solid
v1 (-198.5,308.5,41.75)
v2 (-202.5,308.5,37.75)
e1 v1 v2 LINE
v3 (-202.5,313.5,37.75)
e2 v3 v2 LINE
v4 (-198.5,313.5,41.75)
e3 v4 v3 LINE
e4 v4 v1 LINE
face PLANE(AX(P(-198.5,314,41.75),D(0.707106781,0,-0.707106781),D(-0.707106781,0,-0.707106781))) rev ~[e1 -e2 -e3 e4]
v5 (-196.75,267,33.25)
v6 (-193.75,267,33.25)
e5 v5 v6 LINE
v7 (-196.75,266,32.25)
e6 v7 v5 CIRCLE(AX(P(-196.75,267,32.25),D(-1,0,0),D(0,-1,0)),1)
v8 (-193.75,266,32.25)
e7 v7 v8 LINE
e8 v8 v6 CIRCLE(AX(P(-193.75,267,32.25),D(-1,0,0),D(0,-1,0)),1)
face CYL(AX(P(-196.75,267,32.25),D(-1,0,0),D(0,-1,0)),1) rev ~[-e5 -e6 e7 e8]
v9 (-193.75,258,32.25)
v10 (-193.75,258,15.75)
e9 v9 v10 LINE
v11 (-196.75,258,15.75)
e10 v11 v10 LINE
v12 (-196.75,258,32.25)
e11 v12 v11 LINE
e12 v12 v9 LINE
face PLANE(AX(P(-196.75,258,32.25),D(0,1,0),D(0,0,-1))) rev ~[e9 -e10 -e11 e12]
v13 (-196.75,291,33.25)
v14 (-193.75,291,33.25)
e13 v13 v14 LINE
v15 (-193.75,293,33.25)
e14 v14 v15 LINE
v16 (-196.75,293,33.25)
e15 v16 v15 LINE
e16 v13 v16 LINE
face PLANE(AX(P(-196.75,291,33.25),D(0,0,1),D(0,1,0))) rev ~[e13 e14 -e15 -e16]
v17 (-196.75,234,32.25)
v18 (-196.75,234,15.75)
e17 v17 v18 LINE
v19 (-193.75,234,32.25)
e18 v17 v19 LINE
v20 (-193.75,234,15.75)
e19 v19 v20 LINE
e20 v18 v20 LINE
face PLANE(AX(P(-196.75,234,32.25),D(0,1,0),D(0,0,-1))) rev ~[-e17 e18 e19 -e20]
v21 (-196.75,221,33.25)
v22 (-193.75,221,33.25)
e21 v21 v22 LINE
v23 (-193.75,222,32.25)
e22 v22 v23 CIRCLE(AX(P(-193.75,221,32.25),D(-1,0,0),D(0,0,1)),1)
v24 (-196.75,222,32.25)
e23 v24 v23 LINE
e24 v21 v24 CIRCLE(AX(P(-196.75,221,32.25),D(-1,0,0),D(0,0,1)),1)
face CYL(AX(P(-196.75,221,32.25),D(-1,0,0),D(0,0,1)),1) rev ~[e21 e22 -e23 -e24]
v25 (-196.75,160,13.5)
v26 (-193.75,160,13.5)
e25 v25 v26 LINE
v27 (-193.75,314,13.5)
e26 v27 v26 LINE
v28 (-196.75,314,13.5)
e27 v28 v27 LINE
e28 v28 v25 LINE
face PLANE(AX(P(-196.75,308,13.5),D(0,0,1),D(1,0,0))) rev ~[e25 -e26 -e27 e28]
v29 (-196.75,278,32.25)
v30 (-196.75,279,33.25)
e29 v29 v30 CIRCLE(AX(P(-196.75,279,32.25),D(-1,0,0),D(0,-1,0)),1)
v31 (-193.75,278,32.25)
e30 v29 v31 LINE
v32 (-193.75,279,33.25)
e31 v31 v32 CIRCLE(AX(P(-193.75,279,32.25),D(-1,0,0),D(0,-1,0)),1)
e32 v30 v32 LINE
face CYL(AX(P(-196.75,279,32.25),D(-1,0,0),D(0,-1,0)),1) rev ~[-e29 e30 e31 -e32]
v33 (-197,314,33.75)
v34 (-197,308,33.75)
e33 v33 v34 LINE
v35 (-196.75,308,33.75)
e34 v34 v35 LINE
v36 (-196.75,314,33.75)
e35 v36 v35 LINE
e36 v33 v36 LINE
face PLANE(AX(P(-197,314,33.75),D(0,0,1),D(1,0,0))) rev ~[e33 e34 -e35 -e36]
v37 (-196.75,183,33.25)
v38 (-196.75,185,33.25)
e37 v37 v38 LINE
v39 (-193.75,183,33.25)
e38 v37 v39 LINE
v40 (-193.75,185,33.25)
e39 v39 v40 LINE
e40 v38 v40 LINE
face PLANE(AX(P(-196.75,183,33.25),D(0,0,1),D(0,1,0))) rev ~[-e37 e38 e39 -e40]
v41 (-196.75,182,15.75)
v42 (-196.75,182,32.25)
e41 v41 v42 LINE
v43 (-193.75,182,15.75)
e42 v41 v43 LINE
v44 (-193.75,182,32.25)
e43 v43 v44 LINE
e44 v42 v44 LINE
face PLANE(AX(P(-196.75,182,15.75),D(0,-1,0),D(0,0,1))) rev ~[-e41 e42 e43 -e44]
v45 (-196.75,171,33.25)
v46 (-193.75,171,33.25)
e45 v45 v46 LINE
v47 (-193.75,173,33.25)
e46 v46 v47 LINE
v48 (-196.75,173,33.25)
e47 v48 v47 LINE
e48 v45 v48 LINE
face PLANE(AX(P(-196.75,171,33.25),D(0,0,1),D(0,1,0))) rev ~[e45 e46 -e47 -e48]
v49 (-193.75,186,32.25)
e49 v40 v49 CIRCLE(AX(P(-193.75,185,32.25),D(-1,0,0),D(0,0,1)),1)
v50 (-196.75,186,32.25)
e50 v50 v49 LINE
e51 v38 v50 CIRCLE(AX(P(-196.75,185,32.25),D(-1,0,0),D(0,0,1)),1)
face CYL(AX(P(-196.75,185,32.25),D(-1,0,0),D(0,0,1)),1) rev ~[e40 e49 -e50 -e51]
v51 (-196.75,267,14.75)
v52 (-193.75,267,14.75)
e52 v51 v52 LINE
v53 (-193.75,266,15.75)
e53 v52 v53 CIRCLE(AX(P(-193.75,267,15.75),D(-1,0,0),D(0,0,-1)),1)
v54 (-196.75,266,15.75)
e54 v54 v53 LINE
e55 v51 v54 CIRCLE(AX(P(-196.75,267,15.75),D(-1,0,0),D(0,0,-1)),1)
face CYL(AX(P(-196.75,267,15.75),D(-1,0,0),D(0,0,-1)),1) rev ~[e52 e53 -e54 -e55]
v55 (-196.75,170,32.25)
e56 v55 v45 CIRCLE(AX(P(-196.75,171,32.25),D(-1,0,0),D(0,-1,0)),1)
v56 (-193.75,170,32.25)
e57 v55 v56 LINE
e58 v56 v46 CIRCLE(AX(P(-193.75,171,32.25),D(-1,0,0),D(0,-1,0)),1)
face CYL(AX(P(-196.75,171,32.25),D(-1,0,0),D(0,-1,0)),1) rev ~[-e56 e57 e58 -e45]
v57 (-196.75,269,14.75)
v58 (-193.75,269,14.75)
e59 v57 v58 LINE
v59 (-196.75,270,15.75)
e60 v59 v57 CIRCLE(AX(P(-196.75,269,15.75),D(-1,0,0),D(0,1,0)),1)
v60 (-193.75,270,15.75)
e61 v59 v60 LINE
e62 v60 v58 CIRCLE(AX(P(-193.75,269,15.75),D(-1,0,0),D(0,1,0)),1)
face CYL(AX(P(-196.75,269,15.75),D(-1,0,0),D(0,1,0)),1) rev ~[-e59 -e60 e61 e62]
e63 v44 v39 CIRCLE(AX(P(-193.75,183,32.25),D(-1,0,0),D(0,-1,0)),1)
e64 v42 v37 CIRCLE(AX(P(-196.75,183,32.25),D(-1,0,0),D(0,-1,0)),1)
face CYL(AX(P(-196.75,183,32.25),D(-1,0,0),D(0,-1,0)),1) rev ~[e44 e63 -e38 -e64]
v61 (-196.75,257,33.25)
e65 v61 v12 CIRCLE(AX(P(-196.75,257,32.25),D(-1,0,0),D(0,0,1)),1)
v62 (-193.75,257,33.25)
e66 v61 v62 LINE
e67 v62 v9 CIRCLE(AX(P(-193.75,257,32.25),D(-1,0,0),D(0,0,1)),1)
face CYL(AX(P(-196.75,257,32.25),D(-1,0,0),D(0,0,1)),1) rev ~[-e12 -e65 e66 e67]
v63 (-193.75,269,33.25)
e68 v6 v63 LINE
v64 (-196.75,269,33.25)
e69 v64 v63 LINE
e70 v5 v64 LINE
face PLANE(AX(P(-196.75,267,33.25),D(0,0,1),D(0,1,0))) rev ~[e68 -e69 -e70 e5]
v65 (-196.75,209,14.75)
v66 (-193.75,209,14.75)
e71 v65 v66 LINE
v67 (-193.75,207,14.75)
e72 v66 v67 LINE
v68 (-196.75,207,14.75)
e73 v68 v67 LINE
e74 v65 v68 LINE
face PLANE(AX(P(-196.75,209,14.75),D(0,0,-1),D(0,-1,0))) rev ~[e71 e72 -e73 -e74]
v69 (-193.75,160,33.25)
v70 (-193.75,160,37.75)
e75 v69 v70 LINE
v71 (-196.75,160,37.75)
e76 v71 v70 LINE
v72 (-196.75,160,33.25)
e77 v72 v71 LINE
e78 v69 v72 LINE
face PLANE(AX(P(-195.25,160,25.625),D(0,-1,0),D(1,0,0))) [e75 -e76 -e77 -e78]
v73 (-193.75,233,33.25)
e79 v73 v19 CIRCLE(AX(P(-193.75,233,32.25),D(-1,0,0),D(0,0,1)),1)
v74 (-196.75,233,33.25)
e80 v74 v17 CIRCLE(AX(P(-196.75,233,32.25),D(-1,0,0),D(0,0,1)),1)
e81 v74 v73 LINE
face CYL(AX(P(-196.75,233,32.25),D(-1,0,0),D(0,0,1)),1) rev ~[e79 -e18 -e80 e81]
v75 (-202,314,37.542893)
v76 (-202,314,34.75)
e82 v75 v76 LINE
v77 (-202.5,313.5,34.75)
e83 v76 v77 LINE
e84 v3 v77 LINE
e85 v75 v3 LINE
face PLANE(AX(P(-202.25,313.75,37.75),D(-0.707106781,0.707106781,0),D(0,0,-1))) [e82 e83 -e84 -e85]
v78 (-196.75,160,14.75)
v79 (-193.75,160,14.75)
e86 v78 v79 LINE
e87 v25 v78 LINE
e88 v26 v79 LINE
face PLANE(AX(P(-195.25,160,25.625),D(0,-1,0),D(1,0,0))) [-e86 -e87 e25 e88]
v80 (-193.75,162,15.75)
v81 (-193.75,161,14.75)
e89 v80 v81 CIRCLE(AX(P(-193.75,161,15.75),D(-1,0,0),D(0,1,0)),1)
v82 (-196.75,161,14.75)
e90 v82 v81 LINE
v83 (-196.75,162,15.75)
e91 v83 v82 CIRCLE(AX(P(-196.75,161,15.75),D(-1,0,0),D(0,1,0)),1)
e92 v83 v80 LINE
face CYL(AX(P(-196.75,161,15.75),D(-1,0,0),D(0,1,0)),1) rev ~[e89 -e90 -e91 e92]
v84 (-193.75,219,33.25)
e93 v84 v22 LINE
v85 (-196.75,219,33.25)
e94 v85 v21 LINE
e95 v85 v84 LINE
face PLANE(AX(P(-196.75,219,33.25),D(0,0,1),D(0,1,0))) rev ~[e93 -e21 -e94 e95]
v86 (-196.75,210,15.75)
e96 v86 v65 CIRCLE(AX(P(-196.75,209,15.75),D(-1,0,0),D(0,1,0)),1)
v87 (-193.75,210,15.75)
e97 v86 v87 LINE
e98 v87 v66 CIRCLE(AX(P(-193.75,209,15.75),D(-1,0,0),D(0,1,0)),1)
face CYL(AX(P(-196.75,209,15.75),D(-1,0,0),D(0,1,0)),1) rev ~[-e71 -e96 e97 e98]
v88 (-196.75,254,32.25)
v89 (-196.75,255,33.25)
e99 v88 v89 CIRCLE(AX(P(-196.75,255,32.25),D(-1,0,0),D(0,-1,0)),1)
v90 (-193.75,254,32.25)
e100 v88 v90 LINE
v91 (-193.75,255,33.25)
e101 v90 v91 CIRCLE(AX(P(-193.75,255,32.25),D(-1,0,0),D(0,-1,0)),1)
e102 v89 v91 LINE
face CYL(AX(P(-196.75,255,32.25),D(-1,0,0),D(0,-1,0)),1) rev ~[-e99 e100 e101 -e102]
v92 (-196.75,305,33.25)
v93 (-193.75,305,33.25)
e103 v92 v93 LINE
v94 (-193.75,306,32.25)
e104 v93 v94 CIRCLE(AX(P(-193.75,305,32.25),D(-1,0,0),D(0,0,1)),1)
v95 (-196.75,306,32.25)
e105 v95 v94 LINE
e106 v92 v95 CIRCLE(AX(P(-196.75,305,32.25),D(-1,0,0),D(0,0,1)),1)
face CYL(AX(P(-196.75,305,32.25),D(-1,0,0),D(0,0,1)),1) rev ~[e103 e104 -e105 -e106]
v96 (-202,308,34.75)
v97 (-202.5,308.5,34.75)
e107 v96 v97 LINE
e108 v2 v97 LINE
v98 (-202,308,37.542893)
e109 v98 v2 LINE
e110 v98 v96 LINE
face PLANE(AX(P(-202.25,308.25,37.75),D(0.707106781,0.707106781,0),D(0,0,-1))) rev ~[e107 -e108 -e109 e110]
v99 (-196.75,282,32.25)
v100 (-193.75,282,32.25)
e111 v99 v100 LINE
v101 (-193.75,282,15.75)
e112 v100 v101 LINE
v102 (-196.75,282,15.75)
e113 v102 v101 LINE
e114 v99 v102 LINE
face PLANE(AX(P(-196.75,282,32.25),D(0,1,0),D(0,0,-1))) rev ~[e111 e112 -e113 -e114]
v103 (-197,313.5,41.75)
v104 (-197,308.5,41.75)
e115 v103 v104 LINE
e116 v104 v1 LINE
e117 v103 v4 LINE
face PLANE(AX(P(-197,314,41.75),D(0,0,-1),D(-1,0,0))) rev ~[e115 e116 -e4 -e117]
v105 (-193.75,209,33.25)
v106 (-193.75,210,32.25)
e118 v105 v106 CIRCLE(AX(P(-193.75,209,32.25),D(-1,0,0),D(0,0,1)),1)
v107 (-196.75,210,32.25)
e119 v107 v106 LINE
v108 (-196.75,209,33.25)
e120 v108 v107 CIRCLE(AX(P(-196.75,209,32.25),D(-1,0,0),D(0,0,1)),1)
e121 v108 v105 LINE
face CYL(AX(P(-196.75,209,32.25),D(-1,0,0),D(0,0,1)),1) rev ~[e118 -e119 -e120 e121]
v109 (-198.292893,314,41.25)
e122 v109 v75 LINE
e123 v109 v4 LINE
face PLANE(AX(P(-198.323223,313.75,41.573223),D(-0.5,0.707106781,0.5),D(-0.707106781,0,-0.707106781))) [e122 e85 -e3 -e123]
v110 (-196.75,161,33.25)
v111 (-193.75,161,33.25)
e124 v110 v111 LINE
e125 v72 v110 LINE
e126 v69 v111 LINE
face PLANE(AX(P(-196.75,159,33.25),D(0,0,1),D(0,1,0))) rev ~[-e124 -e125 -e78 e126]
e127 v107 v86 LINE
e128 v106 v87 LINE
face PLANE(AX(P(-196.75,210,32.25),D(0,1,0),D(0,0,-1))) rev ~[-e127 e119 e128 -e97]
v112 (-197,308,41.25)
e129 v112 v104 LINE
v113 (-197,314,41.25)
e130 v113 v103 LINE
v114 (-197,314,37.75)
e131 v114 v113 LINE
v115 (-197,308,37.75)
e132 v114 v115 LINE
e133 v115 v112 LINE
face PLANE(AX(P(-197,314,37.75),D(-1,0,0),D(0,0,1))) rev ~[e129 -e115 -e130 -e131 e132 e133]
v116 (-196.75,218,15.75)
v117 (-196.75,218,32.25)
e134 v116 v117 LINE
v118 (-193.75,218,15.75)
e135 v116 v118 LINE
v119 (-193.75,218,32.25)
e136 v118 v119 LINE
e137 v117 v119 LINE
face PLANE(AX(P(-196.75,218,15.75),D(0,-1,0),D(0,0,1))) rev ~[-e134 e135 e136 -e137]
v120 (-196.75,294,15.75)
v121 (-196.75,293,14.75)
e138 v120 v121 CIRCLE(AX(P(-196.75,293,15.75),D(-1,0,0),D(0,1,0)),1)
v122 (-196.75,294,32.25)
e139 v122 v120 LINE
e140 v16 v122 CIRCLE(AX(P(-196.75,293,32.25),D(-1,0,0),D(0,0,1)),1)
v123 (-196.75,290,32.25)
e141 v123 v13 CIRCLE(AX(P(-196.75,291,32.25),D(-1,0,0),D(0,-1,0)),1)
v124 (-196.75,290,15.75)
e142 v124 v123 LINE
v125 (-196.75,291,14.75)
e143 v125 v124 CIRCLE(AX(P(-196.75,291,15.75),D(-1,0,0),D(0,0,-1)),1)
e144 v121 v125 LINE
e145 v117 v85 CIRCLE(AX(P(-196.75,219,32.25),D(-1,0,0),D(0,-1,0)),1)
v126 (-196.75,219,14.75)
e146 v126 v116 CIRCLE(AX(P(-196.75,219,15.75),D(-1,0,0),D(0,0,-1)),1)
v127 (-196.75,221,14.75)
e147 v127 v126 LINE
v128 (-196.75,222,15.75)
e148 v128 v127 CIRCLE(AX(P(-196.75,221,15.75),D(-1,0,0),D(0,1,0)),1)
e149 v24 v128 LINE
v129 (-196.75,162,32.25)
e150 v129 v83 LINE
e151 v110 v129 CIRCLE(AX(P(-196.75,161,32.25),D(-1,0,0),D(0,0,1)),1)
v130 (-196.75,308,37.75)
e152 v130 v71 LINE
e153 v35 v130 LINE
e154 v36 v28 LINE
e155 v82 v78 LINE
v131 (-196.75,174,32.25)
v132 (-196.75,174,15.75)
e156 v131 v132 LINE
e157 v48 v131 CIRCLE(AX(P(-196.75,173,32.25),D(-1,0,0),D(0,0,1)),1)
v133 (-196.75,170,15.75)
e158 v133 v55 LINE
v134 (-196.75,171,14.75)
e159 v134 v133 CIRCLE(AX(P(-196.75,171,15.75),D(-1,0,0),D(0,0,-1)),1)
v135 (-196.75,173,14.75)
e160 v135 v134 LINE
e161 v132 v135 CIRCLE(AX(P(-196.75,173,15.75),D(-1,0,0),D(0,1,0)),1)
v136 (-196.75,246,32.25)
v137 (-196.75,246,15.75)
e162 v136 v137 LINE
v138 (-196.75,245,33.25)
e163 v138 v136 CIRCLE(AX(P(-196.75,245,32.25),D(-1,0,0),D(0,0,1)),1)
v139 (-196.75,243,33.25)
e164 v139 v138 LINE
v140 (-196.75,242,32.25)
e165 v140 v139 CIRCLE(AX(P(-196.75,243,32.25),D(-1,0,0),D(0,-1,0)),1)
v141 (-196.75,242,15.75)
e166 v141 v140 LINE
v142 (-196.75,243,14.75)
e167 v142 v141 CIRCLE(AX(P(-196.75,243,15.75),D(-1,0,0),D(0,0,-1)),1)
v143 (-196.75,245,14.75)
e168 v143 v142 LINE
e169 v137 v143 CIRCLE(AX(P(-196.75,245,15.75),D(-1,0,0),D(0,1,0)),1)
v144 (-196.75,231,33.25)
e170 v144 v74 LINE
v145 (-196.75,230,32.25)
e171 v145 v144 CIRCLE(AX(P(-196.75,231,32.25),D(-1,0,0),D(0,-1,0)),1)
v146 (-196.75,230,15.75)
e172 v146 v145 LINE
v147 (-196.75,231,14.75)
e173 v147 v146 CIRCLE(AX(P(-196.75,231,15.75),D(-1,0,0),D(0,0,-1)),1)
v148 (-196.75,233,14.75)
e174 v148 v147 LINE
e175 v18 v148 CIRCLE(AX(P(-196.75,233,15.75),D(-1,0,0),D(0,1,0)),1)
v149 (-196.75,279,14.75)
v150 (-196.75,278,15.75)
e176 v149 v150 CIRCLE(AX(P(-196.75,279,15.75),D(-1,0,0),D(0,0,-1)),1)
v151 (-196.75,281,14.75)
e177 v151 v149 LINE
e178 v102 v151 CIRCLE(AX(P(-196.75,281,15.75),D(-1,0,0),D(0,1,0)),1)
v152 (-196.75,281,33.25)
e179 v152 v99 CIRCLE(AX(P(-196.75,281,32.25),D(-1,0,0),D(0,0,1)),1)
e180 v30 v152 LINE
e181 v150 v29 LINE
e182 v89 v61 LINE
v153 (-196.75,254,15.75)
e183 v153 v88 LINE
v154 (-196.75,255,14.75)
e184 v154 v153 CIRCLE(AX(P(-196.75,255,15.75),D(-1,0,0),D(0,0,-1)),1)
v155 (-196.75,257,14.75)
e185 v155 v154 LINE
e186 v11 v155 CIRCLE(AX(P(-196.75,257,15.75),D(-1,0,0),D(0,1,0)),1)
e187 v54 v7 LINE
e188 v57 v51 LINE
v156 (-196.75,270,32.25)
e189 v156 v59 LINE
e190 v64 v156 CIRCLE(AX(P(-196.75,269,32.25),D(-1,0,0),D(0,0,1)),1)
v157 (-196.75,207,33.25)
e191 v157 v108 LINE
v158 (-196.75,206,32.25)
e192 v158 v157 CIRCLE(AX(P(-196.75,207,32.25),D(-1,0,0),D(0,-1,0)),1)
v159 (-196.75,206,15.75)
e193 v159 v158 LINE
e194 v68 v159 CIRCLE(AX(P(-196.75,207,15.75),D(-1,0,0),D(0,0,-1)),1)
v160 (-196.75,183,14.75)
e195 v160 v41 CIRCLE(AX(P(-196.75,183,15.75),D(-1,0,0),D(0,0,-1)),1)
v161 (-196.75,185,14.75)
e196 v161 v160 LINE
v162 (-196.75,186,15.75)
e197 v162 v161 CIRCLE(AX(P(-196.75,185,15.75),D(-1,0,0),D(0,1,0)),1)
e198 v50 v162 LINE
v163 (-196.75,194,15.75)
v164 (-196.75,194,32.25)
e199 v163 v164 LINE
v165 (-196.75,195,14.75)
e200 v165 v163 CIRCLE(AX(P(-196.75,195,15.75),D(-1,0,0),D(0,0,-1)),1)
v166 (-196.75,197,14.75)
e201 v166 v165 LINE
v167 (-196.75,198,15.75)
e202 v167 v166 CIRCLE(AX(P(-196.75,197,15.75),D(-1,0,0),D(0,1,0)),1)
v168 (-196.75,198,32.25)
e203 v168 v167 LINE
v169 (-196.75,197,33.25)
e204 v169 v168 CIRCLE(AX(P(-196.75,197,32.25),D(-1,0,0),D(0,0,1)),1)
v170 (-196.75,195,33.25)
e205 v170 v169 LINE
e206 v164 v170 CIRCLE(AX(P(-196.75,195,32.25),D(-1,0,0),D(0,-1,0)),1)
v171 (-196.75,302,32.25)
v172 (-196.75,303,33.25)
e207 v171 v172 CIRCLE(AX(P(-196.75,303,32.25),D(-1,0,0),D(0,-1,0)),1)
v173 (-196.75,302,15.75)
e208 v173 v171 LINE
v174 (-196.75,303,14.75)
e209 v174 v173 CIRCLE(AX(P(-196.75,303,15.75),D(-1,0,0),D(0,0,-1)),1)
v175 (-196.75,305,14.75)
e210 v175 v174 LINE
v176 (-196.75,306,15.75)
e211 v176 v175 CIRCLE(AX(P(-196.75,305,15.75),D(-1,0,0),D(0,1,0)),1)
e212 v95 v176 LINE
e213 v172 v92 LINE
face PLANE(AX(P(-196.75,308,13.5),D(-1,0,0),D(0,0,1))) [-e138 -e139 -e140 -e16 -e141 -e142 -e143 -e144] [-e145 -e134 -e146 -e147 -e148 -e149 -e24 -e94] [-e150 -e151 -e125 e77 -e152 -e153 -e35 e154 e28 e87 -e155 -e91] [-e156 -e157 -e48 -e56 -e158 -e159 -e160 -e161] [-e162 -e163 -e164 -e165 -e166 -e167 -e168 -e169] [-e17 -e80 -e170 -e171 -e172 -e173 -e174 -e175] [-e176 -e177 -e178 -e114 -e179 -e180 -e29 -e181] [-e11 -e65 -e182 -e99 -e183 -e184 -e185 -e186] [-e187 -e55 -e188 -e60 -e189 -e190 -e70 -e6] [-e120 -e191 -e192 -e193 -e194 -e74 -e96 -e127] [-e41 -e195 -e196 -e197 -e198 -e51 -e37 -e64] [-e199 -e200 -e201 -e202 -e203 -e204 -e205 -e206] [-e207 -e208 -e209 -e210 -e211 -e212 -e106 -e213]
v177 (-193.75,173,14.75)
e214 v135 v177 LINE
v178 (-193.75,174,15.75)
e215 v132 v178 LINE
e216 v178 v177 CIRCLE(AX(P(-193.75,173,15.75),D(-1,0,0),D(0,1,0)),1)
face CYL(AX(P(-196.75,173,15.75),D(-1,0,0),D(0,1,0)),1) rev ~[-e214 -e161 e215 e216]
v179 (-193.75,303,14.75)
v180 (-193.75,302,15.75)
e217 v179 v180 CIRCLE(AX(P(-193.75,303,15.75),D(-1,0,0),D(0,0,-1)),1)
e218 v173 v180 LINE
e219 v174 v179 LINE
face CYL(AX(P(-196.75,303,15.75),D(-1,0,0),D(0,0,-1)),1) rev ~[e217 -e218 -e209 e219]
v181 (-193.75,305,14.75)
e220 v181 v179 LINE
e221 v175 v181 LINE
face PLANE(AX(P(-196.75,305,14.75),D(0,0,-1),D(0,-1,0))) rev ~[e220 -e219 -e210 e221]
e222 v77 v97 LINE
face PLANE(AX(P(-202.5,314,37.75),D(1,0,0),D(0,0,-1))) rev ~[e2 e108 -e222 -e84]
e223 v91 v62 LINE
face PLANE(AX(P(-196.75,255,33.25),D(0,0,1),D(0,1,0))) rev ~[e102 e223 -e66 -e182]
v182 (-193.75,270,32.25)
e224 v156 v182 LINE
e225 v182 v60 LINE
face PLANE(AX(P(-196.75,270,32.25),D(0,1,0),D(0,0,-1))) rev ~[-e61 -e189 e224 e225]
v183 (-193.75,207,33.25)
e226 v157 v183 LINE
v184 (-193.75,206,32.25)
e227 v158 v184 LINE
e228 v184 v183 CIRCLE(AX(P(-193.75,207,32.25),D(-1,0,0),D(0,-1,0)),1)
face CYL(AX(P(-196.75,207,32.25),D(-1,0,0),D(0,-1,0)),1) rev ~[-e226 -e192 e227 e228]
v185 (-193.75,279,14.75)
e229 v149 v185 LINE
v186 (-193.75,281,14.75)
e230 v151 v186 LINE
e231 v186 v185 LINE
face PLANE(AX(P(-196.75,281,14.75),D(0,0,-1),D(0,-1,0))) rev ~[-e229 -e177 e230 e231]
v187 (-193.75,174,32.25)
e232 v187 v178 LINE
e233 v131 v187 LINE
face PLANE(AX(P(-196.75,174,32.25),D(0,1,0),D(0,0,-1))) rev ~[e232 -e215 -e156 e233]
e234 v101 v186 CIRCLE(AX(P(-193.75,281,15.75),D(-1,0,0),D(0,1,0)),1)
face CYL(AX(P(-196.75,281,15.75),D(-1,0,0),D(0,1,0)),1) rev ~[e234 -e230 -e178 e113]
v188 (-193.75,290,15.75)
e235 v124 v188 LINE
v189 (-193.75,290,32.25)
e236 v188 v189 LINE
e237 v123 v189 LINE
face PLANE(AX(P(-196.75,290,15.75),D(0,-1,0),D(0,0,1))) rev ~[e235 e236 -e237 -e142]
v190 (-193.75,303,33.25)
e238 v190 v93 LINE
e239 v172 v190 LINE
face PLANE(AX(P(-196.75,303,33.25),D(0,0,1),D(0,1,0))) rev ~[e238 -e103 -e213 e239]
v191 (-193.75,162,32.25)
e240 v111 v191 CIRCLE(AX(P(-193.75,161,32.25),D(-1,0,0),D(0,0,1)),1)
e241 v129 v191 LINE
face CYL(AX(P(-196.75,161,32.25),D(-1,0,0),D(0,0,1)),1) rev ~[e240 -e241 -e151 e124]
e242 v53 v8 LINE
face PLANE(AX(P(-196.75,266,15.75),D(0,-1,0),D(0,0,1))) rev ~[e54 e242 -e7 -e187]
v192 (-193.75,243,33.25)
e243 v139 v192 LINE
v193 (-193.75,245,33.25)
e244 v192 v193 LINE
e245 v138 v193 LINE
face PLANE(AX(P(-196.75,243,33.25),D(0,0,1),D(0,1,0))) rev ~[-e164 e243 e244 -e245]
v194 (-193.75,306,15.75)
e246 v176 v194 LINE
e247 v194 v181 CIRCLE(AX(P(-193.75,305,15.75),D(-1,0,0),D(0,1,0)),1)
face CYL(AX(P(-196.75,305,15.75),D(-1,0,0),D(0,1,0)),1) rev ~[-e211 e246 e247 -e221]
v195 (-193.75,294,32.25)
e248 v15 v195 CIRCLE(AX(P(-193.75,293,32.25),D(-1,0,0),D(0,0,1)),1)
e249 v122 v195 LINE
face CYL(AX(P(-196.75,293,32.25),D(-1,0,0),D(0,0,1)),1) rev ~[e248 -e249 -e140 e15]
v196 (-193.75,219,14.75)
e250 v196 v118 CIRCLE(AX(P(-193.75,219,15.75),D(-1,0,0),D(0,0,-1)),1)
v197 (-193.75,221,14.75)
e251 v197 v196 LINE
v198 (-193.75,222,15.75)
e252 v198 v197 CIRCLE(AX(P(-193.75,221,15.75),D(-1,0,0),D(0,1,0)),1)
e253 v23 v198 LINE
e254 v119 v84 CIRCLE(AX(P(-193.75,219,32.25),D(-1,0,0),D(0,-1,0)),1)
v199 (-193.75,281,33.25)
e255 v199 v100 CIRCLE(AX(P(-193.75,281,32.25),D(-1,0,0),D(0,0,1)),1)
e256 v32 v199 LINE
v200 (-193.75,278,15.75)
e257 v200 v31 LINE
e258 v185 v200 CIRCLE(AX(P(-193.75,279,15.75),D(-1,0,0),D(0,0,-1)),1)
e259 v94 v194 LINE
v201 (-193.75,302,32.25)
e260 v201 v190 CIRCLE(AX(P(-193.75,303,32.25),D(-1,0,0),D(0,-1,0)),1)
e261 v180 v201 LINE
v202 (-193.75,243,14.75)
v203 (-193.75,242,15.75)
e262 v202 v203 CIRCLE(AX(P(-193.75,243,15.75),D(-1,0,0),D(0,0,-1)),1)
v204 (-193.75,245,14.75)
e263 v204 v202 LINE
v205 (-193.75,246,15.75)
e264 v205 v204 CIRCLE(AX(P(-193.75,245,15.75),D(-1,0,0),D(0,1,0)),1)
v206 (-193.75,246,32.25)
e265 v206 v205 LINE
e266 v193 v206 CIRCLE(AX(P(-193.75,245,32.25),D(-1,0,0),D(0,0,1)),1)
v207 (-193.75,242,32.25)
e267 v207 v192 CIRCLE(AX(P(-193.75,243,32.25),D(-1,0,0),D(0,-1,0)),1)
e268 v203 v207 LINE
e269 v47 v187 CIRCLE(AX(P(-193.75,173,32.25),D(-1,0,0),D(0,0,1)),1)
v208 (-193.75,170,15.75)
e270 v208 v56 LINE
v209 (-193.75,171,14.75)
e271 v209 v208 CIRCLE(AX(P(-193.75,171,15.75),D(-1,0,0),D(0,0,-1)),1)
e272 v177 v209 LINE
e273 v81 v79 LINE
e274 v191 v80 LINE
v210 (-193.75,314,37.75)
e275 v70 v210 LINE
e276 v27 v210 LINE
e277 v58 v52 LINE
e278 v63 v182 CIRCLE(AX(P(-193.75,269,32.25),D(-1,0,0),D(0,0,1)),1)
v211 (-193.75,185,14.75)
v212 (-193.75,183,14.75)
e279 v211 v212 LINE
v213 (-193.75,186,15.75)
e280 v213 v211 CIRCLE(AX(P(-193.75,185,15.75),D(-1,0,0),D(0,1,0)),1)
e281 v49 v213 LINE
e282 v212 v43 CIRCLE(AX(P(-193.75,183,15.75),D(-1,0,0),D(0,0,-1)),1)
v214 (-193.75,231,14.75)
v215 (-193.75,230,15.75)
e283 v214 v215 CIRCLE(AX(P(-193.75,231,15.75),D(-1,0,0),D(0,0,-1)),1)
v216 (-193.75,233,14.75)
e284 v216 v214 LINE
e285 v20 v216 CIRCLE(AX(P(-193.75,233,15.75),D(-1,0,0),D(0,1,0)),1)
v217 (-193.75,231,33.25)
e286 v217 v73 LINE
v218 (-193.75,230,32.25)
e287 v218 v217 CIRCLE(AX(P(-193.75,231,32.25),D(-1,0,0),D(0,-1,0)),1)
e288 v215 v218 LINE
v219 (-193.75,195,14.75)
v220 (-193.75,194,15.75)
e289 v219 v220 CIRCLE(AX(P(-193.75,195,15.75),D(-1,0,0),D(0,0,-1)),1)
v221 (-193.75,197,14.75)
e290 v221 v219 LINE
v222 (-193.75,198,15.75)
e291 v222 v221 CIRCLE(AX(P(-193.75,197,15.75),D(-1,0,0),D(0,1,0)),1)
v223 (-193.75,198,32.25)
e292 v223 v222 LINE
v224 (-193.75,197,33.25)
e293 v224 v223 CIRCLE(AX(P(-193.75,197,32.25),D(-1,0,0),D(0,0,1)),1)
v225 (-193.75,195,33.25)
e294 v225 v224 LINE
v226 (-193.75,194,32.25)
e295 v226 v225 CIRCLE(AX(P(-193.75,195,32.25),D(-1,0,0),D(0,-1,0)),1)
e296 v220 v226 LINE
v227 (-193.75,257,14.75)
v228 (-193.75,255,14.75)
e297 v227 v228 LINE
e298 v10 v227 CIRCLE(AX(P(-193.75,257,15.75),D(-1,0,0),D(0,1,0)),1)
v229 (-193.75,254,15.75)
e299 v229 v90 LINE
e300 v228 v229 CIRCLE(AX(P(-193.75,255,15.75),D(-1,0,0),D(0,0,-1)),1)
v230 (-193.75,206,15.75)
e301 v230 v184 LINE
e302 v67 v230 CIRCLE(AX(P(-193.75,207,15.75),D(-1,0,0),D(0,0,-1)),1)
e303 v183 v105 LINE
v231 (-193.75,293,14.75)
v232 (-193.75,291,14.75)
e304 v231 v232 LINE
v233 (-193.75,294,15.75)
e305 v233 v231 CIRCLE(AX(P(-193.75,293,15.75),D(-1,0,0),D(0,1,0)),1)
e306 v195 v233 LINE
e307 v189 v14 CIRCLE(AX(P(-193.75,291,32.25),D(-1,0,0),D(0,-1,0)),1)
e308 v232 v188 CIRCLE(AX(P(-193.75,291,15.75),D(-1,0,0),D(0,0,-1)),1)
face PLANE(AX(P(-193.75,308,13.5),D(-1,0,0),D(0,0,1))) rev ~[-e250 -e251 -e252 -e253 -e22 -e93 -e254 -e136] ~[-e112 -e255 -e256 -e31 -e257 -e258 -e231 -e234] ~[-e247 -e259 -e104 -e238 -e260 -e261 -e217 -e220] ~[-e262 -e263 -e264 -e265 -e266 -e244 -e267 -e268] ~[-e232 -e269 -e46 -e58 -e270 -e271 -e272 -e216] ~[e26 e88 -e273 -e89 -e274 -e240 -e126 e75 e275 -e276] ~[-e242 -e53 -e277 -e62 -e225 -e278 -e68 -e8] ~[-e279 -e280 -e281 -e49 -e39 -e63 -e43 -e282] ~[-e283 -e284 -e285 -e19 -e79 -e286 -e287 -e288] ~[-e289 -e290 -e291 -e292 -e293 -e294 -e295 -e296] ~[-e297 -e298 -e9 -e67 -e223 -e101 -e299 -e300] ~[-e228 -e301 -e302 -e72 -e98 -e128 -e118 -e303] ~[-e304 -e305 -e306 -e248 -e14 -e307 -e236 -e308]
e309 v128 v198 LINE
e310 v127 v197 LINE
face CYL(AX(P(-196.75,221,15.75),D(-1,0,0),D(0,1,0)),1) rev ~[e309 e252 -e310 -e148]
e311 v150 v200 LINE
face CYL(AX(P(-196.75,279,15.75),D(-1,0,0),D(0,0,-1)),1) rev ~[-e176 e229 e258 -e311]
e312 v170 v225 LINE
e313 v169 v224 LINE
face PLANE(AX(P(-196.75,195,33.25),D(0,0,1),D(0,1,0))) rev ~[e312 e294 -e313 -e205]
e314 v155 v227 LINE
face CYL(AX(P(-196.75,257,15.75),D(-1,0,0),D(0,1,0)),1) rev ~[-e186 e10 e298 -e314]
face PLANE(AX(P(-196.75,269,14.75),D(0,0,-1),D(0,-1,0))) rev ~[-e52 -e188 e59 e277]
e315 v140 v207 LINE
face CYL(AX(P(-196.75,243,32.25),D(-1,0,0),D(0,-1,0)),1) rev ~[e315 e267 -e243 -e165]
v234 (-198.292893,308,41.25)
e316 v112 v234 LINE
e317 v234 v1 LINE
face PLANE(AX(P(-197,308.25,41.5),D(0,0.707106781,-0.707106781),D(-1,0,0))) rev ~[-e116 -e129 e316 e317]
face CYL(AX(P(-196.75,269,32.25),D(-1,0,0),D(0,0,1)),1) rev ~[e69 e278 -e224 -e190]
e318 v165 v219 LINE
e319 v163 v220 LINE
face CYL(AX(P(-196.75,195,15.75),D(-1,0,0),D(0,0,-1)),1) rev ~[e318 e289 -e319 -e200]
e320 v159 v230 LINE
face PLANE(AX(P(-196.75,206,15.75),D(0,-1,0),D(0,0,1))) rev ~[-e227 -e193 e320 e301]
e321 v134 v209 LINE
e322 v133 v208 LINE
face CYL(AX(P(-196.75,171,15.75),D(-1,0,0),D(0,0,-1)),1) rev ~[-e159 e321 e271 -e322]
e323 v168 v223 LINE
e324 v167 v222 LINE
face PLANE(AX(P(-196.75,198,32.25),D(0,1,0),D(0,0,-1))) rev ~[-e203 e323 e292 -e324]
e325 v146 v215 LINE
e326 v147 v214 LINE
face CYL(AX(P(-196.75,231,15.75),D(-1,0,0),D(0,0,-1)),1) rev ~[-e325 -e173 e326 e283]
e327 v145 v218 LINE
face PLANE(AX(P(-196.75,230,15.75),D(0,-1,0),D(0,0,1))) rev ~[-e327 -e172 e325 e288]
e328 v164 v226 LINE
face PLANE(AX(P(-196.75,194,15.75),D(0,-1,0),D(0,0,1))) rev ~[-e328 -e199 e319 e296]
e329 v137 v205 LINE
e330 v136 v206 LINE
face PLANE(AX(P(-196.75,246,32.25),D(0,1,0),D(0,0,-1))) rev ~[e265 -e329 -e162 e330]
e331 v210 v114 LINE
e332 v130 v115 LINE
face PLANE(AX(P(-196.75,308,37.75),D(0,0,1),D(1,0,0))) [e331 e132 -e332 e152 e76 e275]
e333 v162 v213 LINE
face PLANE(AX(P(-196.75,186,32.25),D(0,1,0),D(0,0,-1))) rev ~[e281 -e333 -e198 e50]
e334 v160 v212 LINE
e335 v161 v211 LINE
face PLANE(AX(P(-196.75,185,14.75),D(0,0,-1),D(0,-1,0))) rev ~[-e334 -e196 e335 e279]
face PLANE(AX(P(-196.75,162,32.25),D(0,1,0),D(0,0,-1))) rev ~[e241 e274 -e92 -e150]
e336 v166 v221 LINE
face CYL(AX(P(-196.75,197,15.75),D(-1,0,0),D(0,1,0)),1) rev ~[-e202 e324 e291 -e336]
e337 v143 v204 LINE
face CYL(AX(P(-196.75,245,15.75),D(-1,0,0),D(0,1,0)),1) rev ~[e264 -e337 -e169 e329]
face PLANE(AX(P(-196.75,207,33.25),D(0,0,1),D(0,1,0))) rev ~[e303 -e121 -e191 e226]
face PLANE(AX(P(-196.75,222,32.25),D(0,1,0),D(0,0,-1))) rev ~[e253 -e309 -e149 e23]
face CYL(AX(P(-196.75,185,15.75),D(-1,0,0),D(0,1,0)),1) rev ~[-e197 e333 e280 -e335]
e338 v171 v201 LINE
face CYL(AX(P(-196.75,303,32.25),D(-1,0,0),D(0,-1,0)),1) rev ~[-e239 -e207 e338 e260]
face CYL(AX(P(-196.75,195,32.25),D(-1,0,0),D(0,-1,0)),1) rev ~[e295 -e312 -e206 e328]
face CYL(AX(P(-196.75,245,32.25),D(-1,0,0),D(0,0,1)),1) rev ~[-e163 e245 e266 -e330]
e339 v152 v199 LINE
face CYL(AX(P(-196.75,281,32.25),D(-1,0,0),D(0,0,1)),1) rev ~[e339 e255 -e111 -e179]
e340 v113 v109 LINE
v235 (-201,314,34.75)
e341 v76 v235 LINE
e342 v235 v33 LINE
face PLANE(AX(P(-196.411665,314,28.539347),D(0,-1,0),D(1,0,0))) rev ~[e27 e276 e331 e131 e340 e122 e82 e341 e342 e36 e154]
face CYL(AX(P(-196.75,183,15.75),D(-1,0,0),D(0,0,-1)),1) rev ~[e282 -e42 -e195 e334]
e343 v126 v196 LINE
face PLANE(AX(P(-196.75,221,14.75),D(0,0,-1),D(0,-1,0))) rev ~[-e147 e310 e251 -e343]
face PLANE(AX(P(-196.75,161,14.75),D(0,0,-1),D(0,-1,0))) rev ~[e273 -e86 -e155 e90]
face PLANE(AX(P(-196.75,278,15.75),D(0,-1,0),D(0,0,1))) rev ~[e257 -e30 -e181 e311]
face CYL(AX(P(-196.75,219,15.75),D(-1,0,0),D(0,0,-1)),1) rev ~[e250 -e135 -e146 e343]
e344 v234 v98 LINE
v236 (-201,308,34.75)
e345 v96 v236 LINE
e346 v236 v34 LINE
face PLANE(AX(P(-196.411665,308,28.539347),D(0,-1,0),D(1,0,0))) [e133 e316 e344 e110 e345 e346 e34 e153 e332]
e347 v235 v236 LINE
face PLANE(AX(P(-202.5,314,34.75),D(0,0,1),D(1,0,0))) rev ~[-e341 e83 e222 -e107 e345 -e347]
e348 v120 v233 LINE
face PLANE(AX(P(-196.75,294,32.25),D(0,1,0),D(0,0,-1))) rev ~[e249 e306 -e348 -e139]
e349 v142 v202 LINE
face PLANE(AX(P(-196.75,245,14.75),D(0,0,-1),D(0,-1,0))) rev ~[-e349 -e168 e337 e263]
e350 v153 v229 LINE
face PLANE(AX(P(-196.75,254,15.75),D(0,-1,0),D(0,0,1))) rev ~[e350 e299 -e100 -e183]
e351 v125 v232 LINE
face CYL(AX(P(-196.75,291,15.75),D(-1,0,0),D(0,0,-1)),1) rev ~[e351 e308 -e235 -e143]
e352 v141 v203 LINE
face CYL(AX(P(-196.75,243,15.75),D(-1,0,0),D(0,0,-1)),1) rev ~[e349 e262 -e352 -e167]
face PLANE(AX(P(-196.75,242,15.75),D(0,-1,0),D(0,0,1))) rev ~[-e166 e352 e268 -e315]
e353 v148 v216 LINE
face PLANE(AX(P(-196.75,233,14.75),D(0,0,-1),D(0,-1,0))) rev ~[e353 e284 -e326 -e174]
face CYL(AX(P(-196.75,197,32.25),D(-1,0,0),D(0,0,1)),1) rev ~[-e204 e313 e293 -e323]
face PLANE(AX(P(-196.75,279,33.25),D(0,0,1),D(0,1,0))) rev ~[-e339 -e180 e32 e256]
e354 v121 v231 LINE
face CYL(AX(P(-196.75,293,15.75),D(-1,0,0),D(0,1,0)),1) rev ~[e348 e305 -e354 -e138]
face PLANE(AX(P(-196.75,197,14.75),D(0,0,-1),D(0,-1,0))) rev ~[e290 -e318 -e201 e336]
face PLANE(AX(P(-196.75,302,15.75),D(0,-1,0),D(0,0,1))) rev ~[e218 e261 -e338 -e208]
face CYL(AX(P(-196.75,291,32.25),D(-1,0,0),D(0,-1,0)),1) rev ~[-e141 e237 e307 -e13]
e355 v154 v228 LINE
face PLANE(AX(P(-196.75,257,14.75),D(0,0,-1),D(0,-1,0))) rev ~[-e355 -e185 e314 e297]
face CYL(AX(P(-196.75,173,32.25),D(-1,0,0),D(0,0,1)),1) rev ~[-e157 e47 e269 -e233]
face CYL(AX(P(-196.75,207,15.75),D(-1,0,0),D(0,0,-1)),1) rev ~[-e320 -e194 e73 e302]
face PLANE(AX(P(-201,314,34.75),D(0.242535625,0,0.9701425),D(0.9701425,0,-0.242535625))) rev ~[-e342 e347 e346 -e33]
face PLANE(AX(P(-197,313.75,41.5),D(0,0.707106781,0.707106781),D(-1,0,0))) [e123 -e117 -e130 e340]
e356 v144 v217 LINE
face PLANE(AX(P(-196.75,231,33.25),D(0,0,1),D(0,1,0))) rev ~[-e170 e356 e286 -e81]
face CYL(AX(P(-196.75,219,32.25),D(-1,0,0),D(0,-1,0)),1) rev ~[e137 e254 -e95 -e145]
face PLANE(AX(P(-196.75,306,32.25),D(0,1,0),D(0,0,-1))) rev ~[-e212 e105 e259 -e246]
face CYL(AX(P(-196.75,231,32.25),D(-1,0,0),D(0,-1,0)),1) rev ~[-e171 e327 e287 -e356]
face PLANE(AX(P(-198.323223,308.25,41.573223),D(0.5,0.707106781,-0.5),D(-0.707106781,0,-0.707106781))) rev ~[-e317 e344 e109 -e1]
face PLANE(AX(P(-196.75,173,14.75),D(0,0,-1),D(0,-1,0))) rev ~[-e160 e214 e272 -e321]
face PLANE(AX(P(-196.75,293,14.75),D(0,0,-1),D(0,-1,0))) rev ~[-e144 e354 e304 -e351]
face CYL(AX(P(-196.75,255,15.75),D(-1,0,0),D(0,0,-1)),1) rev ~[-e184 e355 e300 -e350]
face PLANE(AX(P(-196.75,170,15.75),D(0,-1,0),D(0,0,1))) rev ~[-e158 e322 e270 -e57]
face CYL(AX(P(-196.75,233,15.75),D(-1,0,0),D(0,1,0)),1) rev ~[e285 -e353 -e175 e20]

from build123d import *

# Parameters (mm, degrees)
PAD006_DEPTH    = 6
SKETCH014_W     = 3
SKETCH014_H     = 24.25
PAD007_DEPTH    = 148
POCKET007_DEPTH = 3
CHAMFER002_SIZE = 0.5


with BuildPart() as part:
    # Sketch013 (on Face1 of CopyPocket007) → Pad006 (new body)
    with BuildSketch(Plane.XZ.offset(-98)):
        Polygon((-193.75, 37.75), (-197, 37.75), (-197, 41.75), (-198.5, 41.75), (-202.5, 37.75), (-202.5, 34.75), (-201, 34.75), (-197, 33.75), (-196.75, 33.75), (-196.75, 13.5), (-193.75, 13.5), align=None)
    extrude(amount=PAD006_DEPTH)

    # Sketch014 (on Face13 of Pad006) → Pad007 (join)
    with BuildSketch(Plane.XZ.offset(-92)):
        with Locations((-195.25, 25.625)):
            Rectangle(SKETCH014_W, SKETCH014_H)
    extrude(amount=PAD007_DEPTH)

    # Sketch015 (on Face14 of Pad007) → Pocket007 (cut)
    with BuildSketch(Plane(origin=(-196.75, 18, 0), x_dir=(0, -1, 0), z_dir=(-1, 0, 0))):
        with BuildLine():
            Line((-72, 32.25), (-72, 15.75))
            ThreePointArc((-72, 15.75), (-71.7071067812, 15.0428932188), (-71, 14.75))
            Line((-71, 14.75), (-69, 14.75))
            ThreePointArc((-69, 14.75), (-68.2928932188, 15.0428932188), (-68, 15.75))
            Line((-68, 15.75), (-68, 32.25))
            ThreePointArc((-68, 32.25), (-68.2928932188, 32.9571067812), (-69, 33.25))
            Line((-69, 33.25), (-71, 33.25))
            ThreePointArc((-71, 33.25), (-71.7071067812, 32.9571067812), (-72, 32.25))
        make_face()
        with BuildLine():
            Line((-60, 32.2499996536), (-60, 15.7499996536))
            ThreePointArc((-60, 15.7499996536), (-59.7071067812, 15.0428928724), (-59, 14.7499996536))
            Line((-59, 14.7499996536), (-57, 14.7499996536))
            ThreePointArc((-57, 14.7499996536), (-56.2928932188, 15.0428928724), (-56, 15.7499996536))
            Line((-56, 15.7499996536), (-56, 32.2499996536))
            ThreePointArc((-56, 32.2499996536), (-56.2928932188, 32.9571064348), (-57, 33.2499996536))
            Line((-57, 33.2499996536), (-59, 33.2499996536))
            ThreePointArc((-59, 33.2499996536), (-59.7071067812, 32.9571064348), (-60, 32.2499996536))
        make_face()
        with BuildLine():
            Line((-47.9999996732, 32.25), (-47.9999996732, 15.75))
            ThreePointArc((-47.9999996732, 15.75), (-47.7071064544, 15.0428932188), (-46.9999996732, 14.75))
            Line((-46.9999996732, 14.75), (-44.9999996732, 14.75))
            ThreePointArc((-44.9999996732, 14.75), (-44.292892892, 15.0428932188), (-43.9999996732, 15.75))
            Line((-43.9999996732, 15.75), (-43.9999996732, 32.25))
            ThreePointArc((-43.9999996732, 32.25), (-44.292892892, 32.9571067812), (-44.9999996732, 33.25))
            Line((-44.9999996732, 33.25), (-46.9999996732, 33.25))
            ThreePointArc((-46.9999996732, 33.25), (-47.7071064544, 32.9571067812), (-47.9999996732, 32.25))
        make_face()
        with BuildLine():
            Line((-36, 32.25), (-36, 15.75))
            ThreePointArc((-36, 15.75), (-35.7071067812, 15.0428932188), (-35, 14.75))
            Line((-35, 14.75), (-33, 14.75))
            ThreePointArc((-33, 14.75), (-32.2928932188, 15.0428932188), (-32, 15.75))
            Line((-32, 15.75), (-32, 32.25))
            ThreePointArc((-32, 32.25), (-32.2928932188, 32.9571067812), (-33, 33.25))
            Line((-33, 33.25), (-35, 33.25))
            ThreePointArc((-35, 33.25), (-35.7071067812, 32.9571067812), (-36, 32.25))
        make_face()
        with BuildLine():
            Line((-24, 32.25), (-24, 15.75))
            ThreePointArc((-24, 15.75), (-23.7071067812, 15.0428932188), (-23, 14.75))
            Line((-23, 14.75), (-21, 14.75))
            ThreePointArc((-21, 14.75), (-20.2928932188, 15.0428932188), (-20, 15.75))
            Line((-20, 15.75), (-20, 32.25))
            ThreePointArc((-20, 32.25), (-20.2928932188, 32.9571067812), (-21, 33.25))
            Line((-21, 33.25), (-23, 33.25))
            ThreePointArc((-23, 33.25), (-23.7071067812, 32.9571067812), (-24, 32.25))
        make_face()
        with BuildLine():
            Line((-11.9999996732, 32.25), (-11.9999996732, 15.75))
            ThreePointArc((-11.9999996732, 15.75), (-11.7071064544, 15.0428932188), (-10.9999996732, 14.75))
            Line((-10.9999996732, 14.75), (-8.9999996732, 14.75))
            ThreePointArc((-8.9999996732, 14.75), (-8.292892892, 15.0428932188), (-7.9999996732, 15.75))
            Line((-7.9999996732, 15.75), (-7.9999996732, 32.25))
            ThreePointArc((-7.9999996732, 32.25), (-8.292892892, 32.9571067812), (-8.9999996732, 33.25))
            Line((-8.9999996732, 33.25), (-10.9999996732, 33.25))
            ThreePointArc((-10.9999996732, 33.25), (-11.7071064544, 32.9571067812), (-11.9999996732, 32.25))
        make_face()
        with BuildLine():
            Line((0, 32.25), (0, 15.75))
            ThreePointArc((0, 15.75), (0.2928932188, 15.0428932188), (1, 14.75))
            Line((1, 14.75), (3, 14.75))
            ThreePointArc((3, 14.75), (3.7071067812, 15.0428932188), (4, 15.75))
            Line((4, 15.75), (4, 32.25))
            ThreePointArc((4, 32.25), (3.7071067812, 32.9571067812), (3, 33.25))
            Line((3, 33.25), (1, 33.25))
            ThreePointArc((1, 33.25), (0.2928932188, 32.9571067812), (0, 32.25))
        make_face()
        with BuildLine():
            Line((12, 32.25), (12, 15.75))
            ThreePointArc((12, 15.75), (12.2928932188, 15.0428932188), (13, 14.75))
            Line((13, 14.75), (15, 14.75))
            ThreePointArc((15, 14.75), (15.7071067812, 15.0428932188), (16, 15.75))
            Line((16, 15.75), (16, 32.25))
            ThreePointArc((16, 32.25), (15.7071067812, 32.9571067812), (15, 33.25))
            Line((15, 33.25), (13, 33.25))
            ThreePointArc((13, 33.25), (12.2928932188, 32.9571067812), (12, 32.25))
        make_face()
        with BuildLine():
            Line((24.0000003268, 32.25), (24.0000003268, 15.75))
            ThreePointArc((24.0000003268, 15.75), (24.2928935456, 15.0428932188), (25.0000003268, 14.75))
            Line((25.0000003268, 14.75), (27.0000003268, 14.75))
            ThreePointArc((27.0000003268, 14.75), (27.707107108, 15.0428932188), (28.0000003268, 15.75))
            Line((28.0000003268, 15.75), (28.0000003268, 32.25))
            ThreePointArc((28.0000003268, 32.25), (27.707107108, 32.9571067812), (27.0000003268, 33.25))
            Line((27.0000003268, 33.25), (25.0000003268, 33.25))
            ThreePointArc((25.0000003268, 33.25), (24.2928935456, 32.9571067812), (24.0000003268, 32.25))
        make_face()
        with BuildLine():
            Line((36.0000003268, 32.25), (36.0000003268, 15.75))
            ThreePointArc((36.0000003268, 15.75), (36.2928935456, 15.0428932188), (37.0000003268, 14.75))
            Line((37.0000003268, 14.75), (39.0000003268, 14.75))
            ThreePointArc((39.0000003268, 14.75), (39.707107108, 15.0428932188), (40.0000003268, 15.75))
            Line((40.0000003268, 15.75), (40.0000003268, 32.25))
            ThreePointArc((40.0000003268, 32.25), (39.707107108, 32.9571067812), (39.0000003268, 33.25))
            Line((39.0000003268, 33.25), (37.0000003268, 33.25))
            ThreePointArc((37.0000003268, 33.25), (36.2928935456, 32.9571067812), (36.0000003268, 32.25))
        make_face()
        with BuildLine():
            Line((48, 32.25), (48, 15.75))
            ThreePointArc((48, 15.75), (48.2928932188, 15.0428932188), (49, 14.75))
            Line((49, 14.75), (51, 14.75))
            ThreePointArc((51, 14.75), (51.7071067812, 15.0428932188), (52, 15.75))
            Line((52, 15.75), (52, 32.25))
            ThreePointArc((52, 32.25), (51.7071067812, 32.9571067812), (51, 33.25))
            Line((51, 33.25), (49, 33.25))
            ThreePointArc((49, 33.25), (48.2928932188, 32.9571067812), (48, 32.25))
        make_face()
        with BuildLine():
            Line((60.0000003268, 32.25), (60.0000003268, 15.75))
            ThreePointArc((60.0000003268, 15.75), (60.2928935456, 15.0428932188), (61.0000003268, 14.75))
            Line((61.0000003268, 14.75), (63.0000003268, 14.75))
            ThreePointArc((63.0000003268, 14.75), (63.707107108, 15.0428932188), (64.0000003268, 15.75))
            Line((64.0000003268, 15.75), (64.0000003268, 32.25))
            ThreePointArc((64.0000003268, 32.25), (63.707107108, 32.9571067812), (63.0000003268, 33.25))
            Line((63.0000003268, 33.25), (61.0000003268, 33.25))
            ThreePointArc((61.0000003268, 33.25), (60.2928935456, 32.9571067812), (60.0000003268, 32.25))
        make_face()
        with BuildLine():
            Line((72, 32.2499996536), (72, 15.7499996536))
            ThreePointArc((72, 15.7499996536), (72.2928932188, 15.0428928724), (73, 14.7499996536))
            Line((73, 14.7499996536), (75, 14.7499996536))
            ThreePointArc((75, 14.7499996536), (75.7071067812, 15.0428928724), (76, 15.7499996536))
            Line((76, 15.7499996536), (76, 32.2499996536))
            ThreePointArc((76, 32.2499996536), (75.7071067812, 32.9571064348), (75, 33.2499996536))
            Line((75, 33.2499996536), (73, 33.2499996536))
            ThreePointArc((73, 33.2499996536), (72.2928932188, 32.9571064348), (72, 32.2499996536))
        make_face()
    extrude(amount=-POCKET007_DEPTH, mode=Mode.SUBTRACT)

    # Chamfer002
    chamfer002_edges = [part.edges().sort_by_distance(p)[0] for p in [
        (-197.75, 92, 41.75),
        (-200.5, 92, 39.75),
        (-202.5, 92, 36.25),
        (-202.5, 98, 36.25),
        (-200.5, 98, 39.75),
        (-197.75, 98, 41.75),
    ]]
    chamfer(chamfer002_edges, length=CHAMFER002_SIZE)


with BuildPart() as part_1:
    # Body005 placement: moved
    add(part.part.moved(Location((0, 216, 0))))


solid = part_1.part
